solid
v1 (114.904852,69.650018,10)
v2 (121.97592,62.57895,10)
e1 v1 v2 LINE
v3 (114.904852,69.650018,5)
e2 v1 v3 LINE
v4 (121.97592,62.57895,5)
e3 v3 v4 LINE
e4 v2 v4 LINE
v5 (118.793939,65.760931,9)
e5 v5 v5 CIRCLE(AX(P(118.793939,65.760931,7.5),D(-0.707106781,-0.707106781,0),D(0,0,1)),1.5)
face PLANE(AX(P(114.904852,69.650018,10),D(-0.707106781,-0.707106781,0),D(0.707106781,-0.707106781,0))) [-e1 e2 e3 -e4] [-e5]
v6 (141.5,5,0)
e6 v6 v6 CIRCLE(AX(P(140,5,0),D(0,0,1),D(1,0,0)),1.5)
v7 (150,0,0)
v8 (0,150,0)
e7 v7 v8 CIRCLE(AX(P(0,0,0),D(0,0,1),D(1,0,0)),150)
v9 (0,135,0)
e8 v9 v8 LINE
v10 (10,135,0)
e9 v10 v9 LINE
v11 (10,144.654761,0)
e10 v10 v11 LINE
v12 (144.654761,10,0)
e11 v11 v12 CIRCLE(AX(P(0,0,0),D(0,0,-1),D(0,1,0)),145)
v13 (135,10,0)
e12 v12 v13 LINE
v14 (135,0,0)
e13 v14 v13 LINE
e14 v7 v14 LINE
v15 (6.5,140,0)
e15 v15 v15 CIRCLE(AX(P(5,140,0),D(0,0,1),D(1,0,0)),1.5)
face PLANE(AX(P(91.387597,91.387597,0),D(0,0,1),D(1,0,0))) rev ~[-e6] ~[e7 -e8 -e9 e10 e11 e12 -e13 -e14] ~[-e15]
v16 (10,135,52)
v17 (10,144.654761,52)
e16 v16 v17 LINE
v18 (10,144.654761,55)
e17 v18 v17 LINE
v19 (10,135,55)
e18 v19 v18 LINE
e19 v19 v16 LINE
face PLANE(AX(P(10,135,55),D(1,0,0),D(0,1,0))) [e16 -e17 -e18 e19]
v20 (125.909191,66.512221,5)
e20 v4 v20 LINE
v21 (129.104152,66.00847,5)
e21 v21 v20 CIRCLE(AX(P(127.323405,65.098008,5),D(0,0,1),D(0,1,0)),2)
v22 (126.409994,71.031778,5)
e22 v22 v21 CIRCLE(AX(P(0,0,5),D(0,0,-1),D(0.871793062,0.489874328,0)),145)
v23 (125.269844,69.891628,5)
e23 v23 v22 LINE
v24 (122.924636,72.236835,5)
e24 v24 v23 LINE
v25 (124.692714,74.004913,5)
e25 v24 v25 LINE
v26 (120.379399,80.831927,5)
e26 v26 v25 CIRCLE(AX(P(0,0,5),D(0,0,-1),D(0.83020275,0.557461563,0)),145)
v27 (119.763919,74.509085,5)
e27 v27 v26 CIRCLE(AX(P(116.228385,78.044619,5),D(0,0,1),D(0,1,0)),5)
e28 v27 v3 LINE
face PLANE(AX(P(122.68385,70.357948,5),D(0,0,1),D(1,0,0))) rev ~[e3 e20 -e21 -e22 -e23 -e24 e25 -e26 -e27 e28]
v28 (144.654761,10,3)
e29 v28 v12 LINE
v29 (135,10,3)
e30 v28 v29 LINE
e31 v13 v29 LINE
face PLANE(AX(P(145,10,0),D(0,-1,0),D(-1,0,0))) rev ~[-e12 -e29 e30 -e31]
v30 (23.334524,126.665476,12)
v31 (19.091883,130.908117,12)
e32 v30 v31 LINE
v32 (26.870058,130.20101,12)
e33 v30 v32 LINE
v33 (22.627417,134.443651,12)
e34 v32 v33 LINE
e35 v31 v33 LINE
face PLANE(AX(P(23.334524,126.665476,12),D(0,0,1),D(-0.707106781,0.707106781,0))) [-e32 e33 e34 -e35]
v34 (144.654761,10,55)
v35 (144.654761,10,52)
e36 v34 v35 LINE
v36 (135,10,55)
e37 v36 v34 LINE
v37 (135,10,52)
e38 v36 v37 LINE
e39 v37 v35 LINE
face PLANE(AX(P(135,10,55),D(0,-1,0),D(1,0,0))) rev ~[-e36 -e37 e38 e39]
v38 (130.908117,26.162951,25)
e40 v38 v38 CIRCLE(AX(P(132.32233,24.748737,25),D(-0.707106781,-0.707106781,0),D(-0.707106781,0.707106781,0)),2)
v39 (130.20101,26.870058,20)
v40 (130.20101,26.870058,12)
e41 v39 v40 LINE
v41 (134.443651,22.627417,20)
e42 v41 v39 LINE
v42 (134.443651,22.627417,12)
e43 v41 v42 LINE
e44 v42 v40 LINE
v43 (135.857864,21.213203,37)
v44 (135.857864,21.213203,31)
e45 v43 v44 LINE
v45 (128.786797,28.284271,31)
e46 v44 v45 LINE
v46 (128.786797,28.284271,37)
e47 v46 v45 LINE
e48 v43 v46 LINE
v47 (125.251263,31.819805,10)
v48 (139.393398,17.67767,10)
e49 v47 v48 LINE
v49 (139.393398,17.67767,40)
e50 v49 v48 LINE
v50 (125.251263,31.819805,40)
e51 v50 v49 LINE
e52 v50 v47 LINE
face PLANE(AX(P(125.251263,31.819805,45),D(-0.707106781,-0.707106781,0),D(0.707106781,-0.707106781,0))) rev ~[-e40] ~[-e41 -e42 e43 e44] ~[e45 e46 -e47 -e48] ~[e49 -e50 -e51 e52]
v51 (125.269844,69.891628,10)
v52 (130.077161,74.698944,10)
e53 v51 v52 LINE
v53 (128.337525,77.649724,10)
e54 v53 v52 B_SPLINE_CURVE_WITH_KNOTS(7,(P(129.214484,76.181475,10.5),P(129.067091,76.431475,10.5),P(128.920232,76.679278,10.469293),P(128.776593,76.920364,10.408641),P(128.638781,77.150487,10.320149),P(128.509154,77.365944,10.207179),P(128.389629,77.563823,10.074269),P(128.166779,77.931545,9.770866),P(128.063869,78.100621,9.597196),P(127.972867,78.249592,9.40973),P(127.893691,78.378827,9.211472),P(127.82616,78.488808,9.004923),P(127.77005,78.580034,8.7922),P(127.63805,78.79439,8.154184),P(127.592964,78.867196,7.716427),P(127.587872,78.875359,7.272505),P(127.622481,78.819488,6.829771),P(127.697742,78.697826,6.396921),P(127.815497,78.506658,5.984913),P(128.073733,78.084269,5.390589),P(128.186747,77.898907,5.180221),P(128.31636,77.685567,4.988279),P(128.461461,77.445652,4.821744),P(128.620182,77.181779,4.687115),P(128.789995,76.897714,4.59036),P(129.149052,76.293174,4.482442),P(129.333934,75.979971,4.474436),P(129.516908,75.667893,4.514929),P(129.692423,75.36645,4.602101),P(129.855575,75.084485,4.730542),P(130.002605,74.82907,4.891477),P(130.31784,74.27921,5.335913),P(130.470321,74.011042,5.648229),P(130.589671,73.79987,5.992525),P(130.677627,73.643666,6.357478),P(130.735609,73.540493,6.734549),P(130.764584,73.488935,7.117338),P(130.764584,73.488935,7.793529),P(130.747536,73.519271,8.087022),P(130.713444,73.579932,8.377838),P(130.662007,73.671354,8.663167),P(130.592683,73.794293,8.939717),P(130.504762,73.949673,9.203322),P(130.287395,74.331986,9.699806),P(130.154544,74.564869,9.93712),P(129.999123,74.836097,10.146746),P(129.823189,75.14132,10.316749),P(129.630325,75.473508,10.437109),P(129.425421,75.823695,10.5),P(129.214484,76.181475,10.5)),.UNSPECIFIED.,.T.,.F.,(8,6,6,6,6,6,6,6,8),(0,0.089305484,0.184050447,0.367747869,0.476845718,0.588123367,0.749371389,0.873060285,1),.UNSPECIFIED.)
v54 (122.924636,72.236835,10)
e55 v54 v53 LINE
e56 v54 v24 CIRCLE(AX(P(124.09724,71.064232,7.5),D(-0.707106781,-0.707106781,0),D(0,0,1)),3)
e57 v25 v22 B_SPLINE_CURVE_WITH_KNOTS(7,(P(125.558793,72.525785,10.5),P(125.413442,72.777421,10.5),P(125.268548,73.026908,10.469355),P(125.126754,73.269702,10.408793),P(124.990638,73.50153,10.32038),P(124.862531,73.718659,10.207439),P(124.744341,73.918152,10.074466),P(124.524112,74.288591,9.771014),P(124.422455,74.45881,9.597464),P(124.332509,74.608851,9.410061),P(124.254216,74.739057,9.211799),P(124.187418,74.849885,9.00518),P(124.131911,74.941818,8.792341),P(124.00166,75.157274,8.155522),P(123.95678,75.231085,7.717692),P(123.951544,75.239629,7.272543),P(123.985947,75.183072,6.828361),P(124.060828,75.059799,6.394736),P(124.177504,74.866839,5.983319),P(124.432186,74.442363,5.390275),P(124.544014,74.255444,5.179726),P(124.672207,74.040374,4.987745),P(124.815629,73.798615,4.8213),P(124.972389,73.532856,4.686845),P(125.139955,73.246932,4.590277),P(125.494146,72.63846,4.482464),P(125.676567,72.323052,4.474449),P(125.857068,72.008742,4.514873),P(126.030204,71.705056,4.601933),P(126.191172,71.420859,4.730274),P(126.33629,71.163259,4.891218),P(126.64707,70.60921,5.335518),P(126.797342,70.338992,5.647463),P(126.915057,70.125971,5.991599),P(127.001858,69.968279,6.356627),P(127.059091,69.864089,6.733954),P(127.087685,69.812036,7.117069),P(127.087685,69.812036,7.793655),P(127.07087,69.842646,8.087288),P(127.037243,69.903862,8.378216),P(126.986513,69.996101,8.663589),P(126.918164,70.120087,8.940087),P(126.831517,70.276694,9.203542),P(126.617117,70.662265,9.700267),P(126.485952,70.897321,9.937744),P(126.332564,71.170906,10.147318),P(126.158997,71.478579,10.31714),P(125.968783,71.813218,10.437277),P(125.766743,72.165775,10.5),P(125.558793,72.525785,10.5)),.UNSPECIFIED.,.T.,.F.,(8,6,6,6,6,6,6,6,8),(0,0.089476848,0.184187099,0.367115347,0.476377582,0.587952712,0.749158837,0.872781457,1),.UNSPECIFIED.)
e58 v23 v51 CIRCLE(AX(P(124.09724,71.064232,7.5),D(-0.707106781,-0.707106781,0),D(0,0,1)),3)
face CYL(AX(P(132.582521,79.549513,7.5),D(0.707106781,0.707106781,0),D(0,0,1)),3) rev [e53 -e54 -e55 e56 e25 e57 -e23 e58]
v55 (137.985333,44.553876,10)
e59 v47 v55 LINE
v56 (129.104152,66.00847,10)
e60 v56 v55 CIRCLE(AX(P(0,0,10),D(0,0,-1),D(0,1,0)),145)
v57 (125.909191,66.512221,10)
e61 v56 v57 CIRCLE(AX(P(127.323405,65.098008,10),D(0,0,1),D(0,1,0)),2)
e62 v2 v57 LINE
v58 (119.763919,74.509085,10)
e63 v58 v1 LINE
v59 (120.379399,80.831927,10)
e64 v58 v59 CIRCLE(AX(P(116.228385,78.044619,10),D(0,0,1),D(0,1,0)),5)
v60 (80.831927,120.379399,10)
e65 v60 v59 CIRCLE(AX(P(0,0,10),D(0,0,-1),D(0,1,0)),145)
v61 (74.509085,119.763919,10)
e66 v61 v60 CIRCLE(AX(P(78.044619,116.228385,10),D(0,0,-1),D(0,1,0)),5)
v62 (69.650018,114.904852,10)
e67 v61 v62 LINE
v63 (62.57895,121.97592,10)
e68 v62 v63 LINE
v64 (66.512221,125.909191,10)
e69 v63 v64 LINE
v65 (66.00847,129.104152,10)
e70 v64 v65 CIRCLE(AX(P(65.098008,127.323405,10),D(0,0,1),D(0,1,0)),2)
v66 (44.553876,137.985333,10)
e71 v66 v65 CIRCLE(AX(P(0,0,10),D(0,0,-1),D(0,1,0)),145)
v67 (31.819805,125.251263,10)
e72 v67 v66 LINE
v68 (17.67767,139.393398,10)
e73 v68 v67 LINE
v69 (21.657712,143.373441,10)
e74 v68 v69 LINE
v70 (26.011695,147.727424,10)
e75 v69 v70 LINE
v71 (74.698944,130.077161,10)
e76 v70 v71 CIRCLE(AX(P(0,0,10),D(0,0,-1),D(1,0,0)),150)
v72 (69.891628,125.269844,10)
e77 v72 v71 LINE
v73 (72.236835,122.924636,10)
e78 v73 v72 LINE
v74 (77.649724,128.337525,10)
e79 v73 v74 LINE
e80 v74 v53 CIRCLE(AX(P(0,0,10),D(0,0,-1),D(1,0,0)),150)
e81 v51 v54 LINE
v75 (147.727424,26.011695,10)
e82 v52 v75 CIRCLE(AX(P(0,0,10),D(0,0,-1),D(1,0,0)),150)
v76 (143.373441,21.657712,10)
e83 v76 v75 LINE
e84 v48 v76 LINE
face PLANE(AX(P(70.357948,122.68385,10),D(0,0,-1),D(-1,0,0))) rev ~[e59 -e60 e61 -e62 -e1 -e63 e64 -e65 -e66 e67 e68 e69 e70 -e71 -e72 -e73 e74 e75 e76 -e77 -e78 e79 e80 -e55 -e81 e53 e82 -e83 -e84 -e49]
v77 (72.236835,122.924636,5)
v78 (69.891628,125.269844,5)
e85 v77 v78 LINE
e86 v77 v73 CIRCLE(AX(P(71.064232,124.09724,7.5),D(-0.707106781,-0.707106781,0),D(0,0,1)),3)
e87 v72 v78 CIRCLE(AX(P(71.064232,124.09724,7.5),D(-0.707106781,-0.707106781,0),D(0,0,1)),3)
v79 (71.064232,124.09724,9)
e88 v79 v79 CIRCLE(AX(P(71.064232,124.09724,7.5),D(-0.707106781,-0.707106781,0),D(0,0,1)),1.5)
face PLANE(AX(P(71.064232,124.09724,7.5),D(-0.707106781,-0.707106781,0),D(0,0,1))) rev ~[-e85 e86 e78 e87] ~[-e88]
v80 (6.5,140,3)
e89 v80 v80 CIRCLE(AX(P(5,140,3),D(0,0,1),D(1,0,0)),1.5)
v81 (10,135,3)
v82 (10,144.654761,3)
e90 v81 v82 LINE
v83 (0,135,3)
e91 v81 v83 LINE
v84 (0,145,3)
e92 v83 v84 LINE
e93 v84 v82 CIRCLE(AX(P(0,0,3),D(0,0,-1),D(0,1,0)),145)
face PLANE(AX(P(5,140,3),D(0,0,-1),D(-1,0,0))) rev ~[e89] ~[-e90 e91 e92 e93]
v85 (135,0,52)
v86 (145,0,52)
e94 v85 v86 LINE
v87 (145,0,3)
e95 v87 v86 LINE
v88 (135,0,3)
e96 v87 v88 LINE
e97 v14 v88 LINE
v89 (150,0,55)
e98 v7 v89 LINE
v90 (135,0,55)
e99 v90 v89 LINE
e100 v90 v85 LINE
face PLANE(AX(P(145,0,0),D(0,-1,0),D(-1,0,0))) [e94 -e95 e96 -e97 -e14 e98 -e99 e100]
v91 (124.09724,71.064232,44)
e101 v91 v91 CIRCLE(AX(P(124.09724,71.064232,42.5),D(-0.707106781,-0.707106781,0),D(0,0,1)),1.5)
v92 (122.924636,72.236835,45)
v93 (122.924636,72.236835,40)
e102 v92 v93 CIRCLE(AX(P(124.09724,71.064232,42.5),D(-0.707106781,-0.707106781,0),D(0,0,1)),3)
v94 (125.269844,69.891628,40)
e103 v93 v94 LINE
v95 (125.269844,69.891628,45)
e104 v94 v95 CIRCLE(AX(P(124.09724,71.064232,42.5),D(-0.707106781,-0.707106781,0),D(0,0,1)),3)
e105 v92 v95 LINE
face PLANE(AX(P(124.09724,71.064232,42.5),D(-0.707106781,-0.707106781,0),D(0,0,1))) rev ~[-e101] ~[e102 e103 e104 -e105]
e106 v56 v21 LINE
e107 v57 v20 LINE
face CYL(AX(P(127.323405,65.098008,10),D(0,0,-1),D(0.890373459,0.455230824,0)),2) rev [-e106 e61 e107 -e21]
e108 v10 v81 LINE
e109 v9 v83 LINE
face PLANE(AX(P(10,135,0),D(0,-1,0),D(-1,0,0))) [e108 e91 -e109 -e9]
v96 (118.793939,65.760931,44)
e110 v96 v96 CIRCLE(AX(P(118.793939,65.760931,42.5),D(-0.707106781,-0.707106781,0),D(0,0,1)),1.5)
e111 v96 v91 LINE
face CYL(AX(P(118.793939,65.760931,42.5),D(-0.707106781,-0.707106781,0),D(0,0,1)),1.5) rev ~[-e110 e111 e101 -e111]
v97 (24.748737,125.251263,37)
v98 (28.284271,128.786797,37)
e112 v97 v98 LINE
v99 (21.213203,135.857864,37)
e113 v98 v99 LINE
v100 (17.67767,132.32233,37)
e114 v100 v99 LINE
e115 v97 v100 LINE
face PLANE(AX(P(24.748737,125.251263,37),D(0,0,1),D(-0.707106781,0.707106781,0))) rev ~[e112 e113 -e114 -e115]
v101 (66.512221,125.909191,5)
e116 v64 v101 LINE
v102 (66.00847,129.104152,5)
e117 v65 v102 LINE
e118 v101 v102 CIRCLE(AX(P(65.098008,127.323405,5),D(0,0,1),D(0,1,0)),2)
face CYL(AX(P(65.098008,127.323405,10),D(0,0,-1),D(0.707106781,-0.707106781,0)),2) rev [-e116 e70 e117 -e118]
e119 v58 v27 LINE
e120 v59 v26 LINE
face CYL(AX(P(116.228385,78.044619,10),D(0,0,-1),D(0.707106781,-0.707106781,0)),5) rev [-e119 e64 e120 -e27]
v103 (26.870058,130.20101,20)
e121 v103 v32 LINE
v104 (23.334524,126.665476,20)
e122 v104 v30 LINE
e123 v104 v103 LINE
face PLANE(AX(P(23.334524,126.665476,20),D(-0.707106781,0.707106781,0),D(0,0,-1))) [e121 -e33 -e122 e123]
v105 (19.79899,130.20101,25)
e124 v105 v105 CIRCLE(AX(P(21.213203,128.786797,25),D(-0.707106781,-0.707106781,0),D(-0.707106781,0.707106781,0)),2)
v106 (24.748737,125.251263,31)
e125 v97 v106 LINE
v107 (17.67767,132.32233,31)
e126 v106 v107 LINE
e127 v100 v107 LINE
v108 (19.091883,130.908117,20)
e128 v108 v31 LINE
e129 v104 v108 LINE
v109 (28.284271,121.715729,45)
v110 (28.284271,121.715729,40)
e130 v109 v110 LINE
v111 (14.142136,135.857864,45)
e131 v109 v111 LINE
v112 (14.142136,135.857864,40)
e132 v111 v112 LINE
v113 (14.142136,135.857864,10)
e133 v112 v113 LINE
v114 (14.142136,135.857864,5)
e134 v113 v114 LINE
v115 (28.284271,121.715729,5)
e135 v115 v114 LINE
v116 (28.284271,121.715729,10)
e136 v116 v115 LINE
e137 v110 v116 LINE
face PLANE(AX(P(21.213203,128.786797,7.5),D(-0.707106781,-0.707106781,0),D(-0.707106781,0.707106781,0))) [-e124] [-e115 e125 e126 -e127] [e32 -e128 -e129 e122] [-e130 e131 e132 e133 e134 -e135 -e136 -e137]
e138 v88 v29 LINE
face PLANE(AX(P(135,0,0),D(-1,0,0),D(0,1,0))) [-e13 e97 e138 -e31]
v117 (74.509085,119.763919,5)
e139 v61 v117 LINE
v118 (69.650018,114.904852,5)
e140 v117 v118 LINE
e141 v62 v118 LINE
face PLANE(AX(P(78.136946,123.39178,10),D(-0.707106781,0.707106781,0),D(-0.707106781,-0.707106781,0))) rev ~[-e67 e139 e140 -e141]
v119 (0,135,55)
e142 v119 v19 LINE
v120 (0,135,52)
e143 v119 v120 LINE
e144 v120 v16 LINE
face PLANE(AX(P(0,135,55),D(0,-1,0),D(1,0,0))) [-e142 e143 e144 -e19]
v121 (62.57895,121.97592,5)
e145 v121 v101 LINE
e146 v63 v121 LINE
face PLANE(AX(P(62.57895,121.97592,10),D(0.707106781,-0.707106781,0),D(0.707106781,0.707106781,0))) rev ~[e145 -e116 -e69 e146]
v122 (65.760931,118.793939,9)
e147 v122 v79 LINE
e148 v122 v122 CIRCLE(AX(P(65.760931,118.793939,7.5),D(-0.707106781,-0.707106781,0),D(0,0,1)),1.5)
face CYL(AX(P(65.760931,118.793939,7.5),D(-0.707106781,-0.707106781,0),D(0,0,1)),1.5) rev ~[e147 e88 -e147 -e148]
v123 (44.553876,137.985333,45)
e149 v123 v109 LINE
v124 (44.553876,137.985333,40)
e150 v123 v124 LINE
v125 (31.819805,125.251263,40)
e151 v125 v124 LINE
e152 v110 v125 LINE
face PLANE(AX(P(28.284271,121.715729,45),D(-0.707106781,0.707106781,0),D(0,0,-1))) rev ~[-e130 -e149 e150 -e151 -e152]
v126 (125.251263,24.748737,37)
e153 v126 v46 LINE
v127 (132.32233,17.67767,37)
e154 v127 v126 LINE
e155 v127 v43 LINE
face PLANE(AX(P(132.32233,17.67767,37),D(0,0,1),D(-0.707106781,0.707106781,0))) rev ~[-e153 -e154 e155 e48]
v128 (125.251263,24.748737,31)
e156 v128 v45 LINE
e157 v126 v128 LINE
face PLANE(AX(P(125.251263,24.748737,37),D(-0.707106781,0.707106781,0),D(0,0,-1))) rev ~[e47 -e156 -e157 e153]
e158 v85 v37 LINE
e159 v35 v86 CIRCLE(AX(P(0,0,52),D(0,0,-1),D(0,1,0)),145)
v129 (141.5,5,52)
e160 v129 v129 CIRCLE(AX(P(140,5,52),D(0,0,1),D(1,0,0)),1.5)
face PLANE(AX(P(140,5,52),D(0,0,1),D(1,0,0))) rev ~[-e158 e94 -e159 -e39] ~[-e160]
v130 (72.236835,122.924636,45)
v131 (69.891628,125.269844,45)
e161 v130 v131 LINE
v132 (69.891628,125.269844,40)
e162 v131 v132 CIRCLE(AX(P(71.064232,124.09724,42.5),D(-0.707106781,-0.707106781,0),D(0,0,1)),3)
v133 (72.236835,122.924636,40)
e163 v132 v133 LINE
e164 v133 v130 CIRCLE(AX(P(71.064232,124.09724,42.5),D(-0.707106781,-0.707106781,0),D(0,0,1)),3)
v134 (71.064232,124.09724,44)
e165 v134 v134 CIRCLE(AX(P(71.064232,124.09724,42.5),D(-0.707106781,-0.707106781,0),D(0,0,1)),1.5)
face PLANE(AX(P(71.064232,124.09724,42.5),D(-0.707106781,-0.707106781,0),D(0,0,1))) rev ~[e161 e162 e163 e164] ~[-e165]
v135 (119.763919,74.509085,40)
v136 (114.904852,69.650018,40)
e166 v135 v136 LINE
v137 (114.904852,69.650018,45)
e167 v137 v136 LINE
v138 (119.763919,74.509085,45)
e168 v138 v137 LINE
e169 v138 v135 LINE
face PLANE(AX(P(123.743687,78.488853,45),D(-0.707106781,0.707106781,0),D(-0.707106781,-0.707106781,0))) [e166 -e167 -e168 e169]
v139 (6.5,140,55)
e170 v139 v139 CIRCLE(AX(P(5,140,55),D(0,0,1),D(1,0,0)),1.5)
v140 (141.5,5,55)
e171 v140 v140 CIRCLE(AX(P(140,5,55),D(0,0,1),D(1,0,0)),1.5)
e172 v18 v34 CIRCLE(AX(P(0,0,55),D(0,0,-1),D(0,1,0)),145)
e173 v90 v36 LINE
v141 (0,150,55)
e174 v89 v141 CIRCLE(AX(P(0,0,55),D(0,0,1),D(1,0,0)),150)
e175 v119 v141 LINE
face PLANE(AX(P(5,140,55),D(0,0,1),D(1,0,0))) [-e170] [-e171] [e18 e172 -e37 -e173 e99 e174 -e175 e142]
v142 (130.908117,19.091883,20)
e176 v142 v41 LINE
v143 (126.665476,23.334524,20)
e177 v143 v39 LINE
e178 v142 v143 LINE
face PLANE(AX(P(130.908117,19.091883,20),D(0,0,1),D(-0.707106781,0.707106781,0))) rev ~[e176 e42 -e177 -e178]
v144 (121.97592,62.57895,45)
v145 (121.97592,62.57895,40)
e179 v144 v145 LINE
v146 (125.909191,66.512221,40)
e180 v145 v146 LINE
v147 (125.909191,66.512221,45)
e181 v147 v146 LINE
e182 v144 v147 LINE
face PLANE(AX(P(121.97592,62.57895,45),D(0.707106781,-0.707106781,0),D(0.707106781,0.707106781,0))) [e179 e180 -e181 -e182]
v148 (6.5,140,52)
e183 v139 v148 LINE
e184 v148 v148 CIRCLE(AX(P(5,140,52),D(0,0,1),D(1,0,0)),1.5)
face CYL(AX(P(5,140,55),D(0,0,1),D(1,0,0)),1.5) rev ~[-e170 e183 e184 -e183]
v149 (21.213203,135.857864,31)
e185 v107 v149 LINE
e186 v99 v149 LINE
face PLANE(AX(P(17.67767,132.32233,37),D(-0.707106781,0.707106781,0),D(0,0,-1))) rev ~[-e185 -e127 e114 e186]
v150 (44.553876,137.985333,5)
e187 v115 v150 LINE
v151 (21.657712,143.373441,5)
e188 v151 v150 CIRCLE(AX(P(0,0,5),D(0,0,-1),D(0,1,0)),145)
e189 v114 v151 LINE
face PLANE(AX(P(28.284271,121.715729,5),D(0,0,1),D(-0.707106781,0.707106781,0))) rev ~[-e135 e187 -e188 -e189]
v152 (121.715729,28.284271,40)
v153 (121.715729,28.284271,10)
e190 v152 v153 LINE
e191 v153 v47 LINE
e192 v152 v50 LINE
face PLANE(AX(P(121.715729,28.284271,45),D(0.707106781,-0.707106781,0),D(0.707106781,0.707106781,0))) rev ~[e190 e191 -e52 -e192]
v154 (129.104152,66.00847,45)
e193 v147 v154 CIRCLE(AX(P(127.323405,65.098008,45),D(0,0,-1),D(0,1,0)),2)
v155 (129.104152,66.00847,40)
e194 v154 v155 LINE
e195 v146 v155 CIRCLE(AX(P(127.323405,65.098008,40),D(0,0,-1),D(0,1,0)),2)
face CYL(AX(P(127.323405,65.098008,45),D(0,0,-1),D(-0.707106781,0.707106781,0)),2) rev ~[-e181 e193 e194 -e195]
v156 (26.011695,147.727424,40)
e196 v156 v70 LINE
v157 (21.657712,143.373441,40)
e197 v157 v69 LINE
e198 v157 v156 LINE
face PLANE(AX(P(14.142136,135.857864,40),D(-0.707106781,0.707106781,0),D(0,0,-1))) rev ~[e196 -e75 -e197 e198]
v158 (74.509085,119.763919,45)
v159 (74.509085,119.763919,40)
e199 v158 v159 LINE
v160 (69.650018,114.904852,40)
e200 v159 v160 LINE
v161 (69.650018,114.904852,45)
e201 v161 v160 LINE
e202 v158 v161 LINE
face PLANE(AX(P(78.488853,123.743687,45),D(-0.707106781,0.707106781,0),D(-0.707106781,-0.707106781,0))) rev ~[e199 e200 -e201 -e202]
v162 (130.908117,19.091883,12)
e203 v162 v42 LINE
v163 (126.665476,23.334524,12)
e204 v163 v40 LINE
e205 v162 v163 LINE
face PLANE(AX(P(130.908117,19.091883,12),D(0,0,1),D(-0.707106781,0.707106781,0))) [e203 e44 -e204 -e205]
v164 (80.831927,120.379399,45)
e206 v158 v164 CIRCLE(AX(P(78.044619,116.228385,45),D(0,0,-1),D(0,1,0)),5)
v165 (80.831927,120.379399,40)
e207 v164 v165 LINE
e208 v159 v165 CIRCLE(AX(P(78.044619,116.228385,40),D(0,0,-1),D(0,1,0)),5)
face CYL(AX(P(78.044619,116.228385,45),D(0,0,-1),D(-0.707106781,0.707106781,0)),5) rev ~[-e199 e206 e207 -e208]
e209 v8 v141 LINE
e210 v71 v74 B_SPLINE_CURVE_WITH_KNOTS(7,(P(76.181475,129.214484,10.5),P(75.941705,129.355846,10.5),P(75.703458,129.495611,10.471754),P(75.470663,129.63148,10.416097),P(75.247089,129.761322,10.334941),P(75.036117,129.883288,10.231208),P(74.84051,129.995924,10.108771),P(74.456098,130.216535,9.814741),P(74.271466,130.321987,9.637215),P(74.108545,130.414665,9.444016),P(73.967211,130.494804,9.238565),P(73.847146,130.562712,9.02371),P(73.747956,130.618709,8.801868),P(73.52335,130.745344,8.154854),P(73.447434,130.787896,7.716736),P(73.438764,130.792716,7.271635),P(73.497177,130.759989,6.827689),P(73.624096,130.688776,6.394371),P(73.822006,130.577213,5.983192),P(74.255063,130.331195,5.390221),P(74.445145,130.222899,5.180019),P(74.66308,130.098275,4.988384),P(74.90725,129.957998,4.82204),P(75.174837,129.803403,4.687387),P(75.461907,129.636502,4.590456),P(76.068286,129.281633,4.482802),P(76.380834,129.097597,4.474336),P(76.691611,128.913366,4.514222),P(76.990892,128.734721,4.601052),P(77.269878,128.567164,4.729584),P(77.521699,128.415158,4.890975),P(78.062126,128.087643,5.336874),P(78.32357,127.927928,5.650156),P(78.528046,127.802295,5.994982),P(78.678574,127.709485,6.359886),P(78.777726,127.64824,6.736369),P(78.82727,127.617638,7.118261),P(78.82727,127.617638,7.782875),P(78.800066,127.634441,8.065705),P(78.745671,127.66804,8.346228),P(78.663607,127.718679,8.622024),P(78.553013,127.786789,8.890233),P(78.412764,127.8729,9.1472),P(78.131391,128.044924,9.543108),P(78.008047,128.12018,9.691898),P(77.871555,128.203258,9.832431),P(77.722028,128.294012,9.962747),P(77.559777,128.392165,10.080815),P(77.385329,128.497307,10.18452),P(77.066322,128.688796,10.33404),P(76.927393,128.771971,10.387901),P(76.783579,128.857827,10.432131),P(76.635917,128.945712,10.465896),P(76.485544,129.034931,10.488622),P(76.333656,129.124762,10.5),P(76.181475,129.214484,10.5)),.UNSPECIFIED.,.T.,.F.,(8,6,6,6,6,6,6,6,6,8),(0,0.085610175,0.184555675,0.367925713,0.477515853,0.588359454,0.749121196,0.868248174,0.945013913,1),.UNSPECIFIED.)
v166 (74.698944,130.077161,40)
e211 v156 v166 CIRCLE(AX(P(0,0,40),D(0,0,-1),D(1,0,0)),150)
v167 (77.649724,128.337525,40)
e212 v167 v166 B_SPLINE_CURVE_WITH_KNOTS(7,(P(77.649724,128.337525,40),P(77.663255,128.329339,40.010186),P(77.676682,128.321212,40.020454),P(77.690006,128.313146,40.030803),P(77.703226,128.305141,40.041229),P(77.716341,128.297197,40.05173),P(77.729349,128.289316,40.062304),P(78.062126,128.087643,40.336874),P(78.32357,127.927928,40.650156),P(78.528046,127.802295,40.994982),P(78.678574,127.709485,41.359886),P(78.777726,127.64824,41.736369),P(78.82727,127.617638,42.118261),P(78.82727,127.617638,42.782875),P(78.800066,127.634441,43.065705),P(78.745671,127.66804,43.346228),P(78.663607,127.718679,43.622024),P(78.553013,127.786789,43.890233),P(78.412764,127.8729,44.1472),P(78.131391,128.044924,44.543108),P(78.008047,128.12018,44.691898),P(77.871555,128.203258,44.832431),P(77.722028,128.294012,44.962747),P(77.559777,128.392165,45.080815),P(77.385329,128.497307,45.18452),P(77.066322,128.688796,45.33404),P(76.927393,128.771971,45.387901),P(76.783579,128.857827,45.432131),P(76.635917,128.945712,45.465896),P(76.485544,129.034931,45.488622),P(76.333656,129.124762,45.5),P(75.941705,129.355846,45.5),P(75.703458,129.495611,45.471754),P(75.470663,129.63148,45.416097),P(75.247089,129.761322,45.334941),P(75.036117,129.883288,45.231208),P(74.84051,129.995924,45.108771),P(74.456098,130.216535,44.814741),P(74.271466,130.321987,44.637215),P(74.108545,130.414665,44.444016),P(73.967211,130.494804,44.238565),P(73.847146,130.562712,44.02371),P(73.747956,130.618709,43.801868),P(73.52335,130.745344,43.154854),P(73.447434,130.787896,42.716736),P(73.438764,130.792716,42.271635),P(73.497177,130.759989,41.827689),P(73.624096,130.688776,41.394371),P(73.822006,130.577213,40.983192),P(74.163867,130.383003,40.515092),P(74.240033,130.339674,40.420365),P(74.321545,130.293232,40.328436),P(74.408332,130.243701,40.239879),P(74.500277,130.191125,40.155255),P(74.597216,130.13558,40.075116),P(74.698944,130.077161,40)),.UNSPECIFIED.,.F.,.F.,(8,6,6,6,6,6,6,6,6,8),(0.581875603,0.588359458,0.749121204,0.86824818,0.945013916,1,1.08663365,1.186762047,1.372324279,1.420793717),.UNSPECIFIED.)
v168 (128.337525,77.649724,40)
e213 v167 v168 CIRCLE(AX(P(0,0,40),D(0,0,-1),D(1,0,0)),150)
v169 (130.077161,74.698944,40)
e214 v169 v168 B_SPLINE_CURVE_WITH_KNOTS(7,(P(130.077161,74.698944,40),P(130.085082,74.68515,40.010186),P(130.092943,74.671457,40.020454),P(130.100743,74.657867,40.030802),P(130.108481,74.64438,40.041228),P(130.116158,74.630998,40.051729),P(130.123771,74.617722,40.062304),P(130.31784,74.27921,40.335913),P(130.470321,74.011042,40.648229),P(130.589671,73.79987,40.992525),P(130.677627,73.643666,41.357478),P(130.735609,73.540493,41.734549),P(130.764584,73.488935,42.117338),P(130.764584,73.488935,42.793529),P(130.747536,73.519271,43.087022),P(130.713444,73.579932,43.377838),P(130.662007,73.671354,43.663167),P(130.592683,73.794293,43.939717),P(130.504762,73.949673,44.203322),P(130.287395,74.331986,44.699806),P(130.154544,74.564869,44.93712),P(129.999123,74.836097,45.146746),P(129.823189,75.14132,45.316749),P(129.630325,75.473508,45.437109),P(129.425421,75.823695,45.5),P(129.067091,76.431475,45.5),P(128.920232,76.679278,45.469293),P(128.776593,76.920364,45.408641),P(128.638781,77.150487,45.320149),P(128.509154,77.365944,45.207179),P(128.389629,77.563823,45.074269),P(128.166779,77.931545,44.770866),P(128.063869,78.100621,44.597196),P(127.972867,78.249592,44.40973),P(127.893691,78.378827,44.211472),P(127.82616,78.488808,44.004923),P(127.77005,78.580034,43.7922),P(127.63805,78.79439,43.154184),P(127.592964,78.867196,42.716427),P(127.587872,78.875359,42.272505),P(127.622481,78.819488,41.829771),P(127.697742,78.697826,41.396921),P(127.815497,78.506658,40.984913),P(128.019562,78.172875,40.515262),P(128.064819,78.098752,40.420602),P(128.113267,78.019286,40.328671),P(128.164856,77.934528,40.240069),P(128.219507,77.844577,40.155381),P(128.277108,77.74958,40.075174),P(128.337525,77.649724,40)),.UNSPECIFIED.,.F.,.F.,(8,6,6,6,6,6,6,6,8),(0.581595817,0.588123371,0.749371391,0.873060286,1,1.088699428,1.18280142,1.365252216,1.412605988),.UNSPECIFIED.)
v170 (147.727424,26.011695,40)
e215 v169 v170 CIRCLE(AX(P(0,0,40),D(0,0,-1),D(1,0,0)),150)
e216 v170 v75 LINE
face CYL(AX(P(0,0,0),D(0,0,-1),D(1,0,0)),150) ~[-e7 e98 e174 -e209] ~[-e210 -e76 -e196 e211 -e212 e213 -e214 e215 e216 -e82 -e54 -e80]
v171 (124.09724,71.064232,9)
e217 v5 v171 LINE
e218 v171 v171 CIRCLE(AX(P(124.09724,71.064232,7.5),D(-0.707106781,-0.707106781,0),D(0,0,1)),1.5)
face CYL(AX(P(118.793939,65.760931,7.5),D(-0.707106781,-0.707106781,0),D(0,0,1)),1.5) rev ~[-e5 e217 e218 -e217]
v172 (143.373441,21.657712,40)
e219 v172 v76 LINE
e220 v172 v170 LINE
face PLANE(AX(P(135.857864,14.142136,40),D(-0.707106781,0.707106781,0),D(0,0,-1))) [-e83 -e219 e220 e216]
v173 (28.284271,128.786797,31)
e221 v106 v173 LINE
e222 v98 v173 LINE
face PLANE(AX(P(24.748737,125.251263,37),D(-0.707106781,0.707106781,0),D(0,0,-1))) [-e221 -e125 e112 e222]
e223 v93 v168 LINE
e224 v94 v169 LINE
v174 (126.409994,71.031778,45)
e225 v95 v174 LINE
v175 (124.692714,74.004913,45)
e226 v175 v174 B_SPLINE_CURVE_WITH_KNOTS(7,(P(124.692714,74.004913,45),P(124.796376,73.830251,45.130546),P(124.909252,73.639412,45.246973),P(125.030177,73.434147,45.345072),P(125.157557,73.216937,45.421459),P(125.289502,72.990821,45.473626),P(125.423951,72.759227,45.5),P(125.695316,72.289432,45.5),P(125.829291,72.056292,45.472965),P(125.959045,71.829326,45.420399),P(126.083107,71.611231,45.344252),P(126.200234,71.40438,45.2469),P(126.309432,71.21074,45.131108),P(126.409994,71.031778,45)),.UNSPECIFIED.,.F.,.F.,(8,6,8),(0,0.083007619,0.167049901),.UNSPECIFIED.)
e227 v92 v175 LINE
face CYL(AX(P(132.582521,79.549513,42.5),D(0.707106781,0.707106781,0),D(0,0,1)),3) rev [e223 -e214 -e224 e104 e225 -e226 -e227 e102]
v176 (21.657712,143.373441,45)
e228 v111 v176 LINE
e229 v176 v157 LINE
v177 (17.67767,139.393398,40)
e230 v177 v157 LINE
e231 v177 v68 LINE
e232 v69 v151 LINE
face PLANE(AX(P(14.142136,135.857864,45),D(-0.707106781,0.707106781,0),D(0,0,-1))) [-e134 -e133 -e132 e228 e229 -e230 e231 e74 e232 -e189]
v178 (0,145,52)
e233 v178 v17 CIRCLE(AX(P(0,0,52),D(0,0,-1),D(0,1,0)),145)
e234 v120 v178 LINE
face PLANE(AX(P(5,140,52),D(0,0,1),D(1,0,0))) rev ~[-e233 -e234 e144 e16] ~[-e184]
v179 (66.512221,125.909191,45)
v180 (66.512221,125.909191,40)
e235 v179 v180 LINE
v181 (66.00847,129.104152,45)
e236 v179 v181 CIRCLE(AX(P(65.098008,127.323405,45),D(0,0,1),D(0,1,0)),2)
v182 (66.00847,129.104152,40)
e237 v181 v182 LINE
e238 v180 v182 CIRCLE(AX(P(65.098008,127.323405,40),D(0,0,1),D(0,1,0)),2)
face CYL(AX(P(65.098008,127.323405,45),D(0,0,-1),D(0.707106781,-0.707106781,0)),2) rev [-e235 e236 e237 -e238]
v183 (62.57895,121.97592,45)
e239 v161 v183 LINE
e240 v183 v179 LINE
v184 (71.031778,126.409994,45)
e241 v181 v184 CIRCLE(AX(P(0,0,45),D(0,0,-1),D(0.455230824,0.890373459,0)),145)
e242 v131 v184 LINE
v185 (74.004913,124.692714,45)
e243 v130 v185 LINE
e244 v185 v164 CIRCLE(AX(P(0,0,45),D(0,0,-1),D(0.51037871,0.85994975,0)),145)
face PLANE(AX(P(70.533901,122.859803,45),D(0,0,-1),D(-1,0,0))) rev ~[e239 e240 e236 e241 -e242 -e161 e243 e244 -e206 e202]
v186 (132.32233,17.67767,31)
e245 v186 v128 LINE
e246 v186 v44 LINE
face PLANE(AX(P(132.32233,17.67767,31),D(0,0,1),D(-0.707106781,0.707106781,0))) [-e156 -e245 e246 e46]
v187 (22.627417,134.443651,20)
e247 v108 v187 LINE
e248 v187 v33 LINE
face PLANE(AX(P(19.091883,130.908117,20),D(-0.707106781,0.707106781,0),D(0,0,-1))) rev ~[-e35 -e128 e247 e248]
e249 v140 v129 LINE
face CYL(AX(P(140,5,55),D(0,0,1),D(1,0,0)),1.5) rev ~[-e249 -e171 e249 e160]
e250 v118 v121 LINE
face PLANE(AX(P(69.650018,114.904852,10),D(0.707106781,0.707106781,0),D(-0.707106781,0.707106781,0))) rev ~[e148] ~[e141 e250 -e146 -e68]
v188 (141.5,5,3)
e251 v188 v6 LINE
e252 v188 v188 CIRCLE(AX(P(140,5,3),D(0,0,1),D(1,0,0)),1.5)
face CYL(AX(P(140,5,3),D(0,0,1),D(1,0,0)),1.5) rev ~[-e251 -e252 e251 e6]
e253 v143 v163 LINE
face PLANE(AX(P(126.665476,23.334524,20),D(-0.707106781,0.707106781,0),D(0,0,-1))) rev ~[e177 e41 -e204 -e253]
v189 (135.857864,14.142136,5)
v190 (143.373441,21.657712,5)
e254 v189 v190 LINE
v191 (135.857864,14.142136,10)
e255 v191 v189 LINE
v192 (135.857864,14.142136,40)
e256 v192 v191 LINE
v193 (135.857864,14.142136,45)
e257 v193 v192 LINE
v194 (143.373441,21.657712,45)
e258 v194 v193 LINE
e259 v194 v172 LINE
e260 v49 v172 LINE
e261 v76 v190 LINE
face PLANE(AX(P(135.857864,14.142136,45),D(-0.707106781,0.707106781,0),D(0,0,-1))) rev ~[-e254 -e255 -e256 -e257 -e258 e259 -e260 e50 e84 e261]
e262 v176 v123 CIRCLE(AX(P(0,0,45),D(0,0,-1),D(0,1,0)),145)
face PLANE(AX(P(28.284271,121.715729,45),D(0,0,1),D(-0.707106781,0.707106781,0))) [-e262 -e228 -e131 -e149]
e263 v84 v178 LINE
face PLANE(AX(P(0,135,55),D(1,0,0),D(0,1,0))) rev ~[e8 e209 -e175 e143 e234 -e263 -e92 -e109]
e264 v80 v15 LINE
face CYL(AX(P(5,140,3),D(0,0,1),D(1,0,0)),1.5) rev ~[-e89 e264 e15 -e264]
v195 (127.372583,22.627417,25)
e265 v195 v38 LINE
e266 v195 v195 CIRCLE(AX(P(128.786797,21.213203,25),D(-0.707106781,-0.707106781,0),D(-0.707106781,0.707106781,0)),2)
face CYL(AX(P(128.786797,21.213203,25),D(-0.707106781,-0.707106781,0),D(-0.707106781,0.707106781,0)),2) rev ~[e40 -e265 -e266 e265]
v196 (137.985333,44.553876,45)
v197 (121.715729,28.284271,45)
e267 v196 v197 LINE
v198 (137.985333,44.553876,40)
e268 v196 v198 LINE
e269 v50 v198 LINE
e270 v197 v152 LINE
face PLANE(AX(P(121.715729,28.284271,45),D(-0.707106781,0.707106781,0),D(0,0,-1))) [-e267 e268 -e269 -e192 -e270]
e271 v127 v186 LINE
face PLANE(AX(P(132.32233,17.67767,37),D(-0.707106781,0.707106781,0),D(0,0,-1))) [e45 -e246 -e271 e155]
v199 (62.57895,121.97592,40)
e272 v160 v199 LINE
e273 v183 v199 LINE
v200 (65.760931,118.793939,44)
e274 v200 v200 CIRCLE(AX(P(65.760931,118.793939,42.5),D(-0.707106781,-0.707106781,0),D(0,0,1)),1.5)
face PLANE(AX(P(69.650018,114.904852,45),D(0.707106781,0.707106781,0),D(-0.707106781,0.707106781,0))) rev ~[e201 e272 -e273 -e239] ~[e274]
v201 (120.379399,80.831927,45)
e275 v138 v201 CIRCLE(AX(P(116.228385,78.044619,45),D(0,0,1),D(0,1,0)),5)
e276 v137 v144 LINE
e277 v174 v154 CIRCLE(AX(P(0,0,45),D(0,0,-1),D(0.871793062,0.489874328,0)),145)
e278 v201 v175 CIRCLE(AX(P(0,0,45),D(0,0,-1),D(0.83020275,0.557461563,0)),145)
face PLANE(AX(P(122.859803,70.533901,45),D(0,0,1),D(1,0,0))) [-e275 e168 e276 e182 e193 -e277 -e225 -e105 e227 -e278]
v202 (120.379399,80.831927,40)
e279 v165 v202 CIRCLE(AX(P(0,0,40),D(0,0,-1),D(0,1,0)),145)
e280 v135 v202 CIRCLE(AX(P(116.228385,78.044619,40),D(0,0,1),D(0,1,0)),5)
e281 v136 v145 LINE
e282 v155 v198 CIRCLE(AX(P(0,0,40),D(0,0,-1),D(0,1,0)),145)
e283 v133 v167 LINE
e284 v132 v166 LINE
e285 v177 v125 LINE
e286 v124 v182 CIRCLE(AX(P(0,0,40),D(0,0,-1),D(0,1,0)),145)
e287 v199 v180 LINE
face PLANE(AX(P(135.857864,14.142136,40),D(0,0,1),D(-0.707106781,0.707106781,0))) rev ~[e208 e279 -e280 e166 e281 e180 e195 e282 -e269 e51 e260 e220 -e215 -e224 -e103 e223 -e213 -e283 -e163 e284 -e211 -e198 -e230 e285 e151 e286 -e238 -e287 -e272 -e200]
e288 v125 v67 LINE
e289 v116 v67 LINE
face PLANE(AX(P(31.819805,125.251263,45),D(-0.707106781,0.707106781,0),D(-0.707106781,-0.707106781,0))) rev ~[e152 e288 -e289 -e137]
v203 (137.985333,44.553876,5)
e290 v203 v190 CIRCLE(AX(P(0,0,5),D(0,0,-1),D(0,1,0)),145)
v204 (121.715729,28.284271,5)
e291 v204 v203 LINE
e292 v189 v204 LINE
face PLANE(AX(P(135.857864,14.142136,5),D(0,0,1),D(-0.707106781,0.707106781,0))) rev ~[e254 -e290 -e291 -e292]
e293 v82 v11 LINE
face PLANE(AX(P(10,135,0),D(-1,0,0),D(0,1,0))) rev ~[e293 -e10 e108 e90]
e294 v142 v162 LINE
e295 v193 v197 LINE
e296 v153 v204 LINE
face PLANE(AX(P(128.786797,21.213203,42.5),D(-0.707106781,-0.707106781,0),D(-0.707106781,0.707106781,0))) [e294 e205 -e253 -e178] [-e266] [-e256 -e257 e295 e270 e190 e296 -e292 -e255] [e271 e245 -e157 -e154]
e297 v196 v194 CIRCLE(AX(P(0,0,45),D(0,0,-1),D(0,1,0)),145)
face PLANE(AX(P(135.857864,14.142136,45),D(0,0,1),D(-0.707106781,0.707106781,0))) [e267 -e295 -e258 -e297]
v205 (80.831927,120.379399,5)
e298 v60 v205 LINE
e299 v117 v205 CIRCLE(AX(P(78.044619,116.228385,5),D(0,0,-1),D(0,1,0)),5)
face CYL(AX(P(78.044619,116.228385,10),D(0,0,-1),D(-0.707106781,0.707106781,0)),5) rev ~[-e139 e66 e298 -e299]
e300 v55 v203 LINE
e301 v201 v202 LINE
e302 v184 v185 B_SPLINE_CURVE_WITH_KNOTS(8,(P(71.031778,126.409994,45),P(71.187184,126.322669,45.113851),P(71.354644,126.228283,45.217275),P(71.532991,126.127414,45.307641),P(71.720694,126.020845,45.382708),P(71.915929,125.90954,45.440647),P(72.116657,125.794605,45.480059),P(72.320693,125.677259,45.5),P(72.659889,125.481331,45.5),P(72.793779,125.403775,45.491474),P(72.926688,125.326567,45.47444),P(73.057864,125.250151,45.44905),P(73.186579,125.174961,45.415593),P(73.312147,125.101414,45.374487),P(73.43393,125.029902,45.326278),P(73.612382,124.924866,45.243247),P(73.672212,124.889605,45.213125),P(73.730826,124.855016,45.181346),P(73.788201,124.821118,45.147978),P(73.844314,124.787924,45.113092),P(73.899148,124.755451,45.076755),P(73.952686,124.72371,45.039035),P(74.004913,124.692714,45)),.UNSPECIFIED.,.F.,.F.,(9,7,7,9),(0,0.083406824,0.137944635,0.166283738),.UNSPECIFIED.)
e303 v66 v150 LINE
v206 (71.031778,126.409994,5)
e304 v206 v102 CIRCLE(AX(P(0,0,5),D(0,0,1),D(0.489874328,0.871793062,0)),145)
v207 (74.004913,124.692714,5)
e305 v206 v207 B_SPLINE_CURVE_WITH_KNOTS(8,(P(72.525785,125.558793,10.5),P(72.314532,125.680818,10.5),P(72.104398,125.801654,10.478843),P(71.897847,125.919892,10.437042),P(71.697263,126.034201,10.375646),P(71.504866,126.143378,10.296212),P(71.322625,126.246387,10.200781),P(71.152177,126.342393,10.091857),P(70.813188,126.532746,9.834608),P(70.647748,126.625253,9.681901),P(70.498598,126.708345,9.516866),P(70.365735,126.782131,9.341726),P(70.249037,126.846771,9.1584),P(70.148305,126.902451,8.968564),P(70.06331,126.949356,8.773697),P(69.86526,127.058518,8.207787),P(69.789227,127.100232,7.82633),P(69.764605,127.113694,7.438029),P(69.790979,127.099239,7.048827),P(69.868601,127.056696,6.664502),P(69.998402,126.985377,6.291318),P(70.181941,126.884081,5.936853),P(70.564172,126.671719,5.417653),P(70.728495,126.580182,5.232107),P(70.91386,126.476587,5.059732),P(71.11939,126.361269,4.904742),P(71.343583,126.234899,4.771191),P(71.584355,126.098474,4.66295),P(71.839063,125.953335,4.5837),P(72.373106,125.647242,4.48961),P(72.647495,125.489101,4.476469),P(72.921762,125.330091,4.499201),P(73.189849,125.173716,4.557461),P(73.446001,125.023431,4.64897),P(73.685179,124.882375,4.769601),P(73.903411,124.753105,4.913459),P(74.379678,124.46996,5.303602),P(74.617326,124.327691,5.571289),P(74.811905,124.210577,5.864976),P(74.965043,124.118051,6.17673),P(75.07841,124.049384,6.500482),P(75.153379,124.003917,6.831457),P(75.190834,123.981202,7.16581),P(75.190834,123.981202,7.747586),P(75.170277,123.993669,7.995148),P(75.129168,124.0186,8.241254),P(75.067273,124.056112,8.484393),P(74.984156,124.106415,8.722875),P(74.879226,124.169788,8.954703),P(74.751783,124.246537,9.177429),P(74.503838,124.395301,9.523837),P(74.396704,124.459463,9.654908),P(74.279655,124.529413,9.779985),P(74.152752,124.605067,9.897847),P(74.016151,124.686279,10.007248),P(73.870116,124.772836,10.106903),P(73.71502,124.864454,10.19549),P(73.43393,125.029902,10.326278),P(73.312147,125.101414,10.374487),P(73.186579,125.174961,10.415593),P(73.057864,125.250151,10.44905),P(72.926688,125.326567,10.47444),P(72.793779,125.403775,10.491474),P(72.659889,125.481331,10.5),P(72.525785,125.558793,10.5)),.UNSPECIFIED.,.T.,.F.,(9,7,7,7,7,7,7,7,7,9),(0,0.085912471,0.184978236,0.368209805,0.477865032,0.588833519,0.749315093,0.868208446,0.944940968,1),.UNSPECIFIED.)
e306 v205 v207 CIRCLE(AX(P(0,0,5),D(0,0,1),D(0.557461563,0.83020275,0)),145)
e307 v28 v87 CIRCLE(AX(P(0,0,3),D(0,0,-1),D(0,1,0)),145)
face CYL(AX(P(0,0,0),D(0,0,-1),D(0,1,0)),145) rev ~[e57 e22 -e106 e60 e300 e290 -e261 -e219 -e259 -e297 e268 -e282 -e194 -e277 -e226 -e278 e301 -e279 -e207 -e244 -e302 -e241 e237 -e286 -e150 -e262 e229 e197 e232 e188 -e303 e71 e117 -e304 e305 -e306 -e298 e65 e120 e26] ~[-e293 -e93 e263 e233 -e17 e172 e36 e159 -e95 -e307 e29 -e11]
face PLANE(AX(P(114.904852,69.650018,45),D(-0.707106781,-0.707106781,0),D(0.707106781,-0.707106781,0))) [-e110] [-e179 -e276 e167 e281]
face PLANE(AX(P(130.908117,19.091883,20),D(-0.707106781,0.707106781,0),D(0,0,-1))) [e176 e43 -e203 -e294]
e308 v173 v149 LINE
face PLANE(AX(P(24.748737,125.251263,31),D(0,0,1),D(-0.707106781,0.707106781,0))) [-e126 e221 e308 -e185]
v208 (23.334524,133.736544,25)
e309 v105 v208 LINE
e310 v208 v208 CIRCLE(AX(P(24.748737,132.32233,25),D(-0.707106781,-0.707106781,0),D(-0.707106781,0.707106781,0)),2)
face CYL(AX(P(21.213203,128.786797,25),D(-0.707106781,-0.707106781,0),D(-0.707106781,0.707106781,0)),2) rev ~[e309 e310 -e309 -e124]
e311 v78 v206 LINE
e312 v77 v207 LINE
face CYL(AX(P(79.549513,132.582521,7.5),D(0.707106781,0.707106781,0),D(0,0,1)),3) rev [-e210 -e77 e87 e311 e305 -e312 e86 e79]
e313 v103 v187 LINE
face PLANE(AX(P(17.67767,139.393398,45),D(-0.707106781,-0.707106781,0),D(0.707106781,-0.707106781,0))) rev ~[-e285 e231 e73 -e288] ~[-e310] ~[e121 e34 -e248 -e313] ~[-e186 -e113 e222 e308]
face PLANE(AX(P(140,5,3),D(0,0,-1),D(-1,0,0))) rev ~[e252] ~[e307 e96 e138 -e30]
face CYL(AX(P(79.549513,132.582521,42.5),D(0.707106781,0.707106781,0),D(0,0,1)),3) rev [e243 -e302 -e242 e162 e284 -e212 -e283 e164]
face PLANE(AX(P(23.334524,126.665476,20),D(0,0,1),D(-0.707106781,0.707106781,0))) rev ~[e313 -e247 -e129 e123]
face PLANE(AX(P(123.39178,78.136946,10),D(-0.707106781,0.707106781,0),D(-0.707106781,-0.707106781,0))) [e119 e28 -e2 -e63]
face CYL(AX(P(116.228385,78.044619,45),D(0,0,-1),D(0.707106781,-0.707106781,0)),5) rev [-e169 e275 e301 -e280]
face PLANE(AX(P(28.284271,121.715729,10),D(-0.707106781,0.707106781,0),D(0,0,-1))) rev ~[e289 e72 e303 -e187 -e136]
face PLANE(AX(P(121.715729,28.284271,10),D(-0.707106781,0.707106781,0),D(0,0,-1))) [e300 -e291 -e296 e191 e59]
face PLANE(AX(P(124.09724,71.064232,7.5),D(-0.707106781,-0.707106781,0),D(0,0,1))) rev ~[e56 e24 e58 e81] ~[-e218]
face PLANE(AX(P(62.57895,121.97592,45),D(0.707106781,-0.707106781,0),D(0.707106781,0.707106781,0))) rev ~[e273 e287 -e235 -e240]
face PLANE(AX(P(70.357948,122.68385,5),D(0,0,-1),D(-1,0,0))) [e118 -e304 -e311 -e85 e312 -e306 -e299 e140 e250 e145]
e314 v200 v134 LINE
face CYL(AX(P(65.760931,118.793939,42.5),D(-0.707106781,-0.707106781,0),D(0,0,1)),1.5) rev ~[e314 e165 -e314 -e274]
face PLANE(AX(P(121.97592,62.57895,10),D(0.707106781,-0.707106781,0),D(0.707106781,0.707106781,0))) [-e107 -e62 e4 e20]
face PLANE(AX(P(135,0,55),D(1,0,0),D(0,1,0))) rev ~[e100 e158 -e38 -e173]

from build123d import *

# Parameters (mm, degrees)
PAROI_DEPTH                    = 55
ESQUISSE11_W                   = 10
ESQUISSE11_H                   = 10
FIXATION_PAROI_BASE_DEPTH      = 3
ESQUISSE13_R                   = 1.5
TROU_FIXATION_PAROI_BASE_DEPTH = 4
EXTRUSION_BUMPER_REACH         = 108.066
ESQUISSE14_W                   = 172.132034356
ESQUISSE14_H                   = 30
BOSS_EXTRU_1_REACH             = 108.066
ESQUISSE15_W                   = 20
ESQUISSE15_H                   = 5
BOSS_EXTRU_2_DEPTH             = 35
ENL_V_MAT_EXTRU_1_REACH        = 108.066
ESQUISSE17_R                   = 2
ESQUISSE18_W                   = 10
ESQUISSE18_H                   = 10
ESQUISSE18_R                   = 1.5
BOSS_EXTRU_3_DEPTH             = 3
ESQUISSE20_W                   = 10
ESQUISSE20_H                   = 6
ESQUISSE20_W_2                 = 6
ESQUISSE20_H_2                 = 8
ENL_V_MAT_EXTRU_2_DEPTH        = 107.066017178
BOSS_EXTRU_4_DEPTH             = 5
BOSS_EXTRU_5_DEPTH             = 5
ENL_V_MAT_EXTRU_3_REACH        = 83.632
ESQUISSE25_R                   = 1.5
ESQUISSE35_R                   = 3
ENL_V_MAT_EXTRU_4_DEPTH        = 12
CONG_1_R                       = 5
CONG_2_R                       = 2


with BuildPart() as part:
    # Esquisse1 → paroi (new body)
    with BuildSketch(Plane.XY):
        with BuildLine():
            Line((0, 150), (0, 145))
            ThreePointArc((0, 145), (102.530483272, 102.530483272), (145, 0))
            Line((145, 0), (150, 0))
            ThreePointArc((150, 0), (106.066017178, 106.066017178), (0, 150))
        make_face()
    extrude(amount=PAROI_DEPTH)

    # Esquisse11 → fixation_paroi_base (add)
    with BuildSketch(Plane(origin=(0, 0, 0), x_dir=(-1, 0, 0), z_dir=(0, 0, -1))):
        with Locations((-140, 5)):
            Rectangle(ESQUISSE11_W, ESQUISSE11_H)
        with Locations((-5, 140)):
            Rectangle(ESQUISSE11_W, ESQUISSE11_H)
    extrude(amount=-FIXATION_PAROI_BASE_DEPTH)

    # Esquisse13 → trou_fixation_paroi_base (cut, through all)
    with BuildSketch(Plane.XY.offset(3)):
        with Locations((5, 140)):
            Circle(ESQUISSE13_R)
        with Locations((140, 5)):
            Circle(ESQUISSE13_R)
    extrude(amount=-TROU_FIXATION_PAROI_BASE_DEPTH, mode=Mode.SUBTRACT)

    # Esquisse14 → extrusion bumper (cut, up to next)
    with BuildSketch(Plane(origin=(75, 75, 0), x_dir=(-0.707106781, 0.707106781, 0), z_dir=(-0.707106781, -0.707106781, 0)), mode=Mode.PRIVATE) as extrusion_bumper_sk1:
        with Locations((0, -25)):
            Rectangle(ESQUISSE14_W, ESQUISSE14_H)
    extrusion_bumper_tool1 = extrude(extrusion_bumper_sk1.sketch, amount=-EXTRUSION_BUMPER_REACH, mode=Mode.PRIVATE) & part.part
    add(extrusion_bumper_tool1.solids().sort_by_distance((75, 75, 25))[0], mode=Mode.SUBTRACT)

    # Esquisse15 → Boss.-Extru.1 (add, up to next)
    with BuildSketch(Plane(origin=(75, 75, 0), x_dir=(-0.707106781, 0.707106781, 0), z_dir=(-0.707106781, -0.707106781, 0)), mode=Mode.PRIVATE) as boss_extru_1_sk1:
        with Locations((76.066017178, -42.5)):
            Rectangle(ESQUISSE15_W, ESQUISSE15_H)
    boss_extru_1_tool1 = extrude(boss_extru_1_sk1.sketch, amount=-BOSS_EXTRU_1_REACH, mode=Mode.PRIVATE) - part.part
    add(boss_extru_1_tool1.solids().sort_by_distance((21.213203, 128.786797, 42.5))[0])
    # Esquisse15 → Boss.-Extru.1 (add, up to next)
    with BuildSketch(Plane(origin=(75, 75, 0), x_dir=(-0.707106781, 0.707106781, 0), z_dir=(-0.707106781, -0.707106781, 0)), mode=Mode.PRIVATE) as boss_extru_1_sk2:
        with Locations((-76.066017178, -42.5)):
            Rectangle(ESQUISSE15_W, ESQUISSE15_H)
    boss_extru_1_tool2 = extrude(boss_extru_1_sk2.sketch, amount=-BOSS_EXTRU_1_REACH, mode=Mode.PRIVATE) - part.part
    add(boss_extru_1_tool2.solids().sort_by_distance((128.786797, 21.213203, 42.5))[0])
    # Esquisse15 → Boss.-Extru.1 (add, up to next)
    with BuildSketch(Plane(origin=(75, 75, 0), x_dir=(-0.707106781, 0.707106781, 0), z_dir=(-0.707106781, -0.707106781, 0)), mode=Mode.PRIVATE) as boss_extru_1_sk3:
        with Locations((76.066017178, -7.5)):
            Rectangle(ESQUISSE15_W, ESQUISSE15_H)
    boss_extru_1_tool3 = extrude(boss_extru_1_sk3.sketch, amount=-BOSS_EXTRU_1_REACH, mode=Mode.PRIVATE) - part.part
    add(boss_extru_1_tool3.solids().sort_by_distance((21.213203, 128.786797, 7.5))[0])
    # Esquisse15 → Boss.-Extru.1 (add, up to next)
    with BuildSketch(Plane(origin=(75, 75, 0), x_dir=(-0.707106781, 0.707106781, 0), z_dir=(-0.707106781, -0.707106781, 0)), mode=Mode.PRIVATE) as boss_extru_1_sk4:
        with Locations((-76.066017178, -7.5)):
            Rectangle(ESQUISSE15_W, ESQUISSE15_H)
    boss_extru_1_tool4 = extrude(boss_extru_1_sk4.sketch, amount=-BOSS_EXTRU_1_REACH, mode=Mode.PRIVATE) - part.part
    add(boss_extru_1_tool4.solids().sort_by_distance((128.786797, 21.213203, 7.5))[0])

    # Esquisse16 → Boss.-Extru.2 (add)
    with BuildSketch(Plane.XY.offset(45)):
        Polygon((135.857864376, 14.142135624), (121.715728753, 28.284271247), (125.251262658, 31.819805153), (139.393398282, 17.67766953), align=None)
        Polygon((28.284271247, 121.715728753), (14.142135624, 135.857864376), (17.67766953, 139.393398282), (31.819805153, 125.251262658), align=None)
    extrude(amount=-BOSS_EXTRU_2_DEPTH)

    # Esquisse17 → Enlèv. mat.-Extru.1 (cut, up to next)
    with BuildSketch(Plane(origin=(75, 75, 0), x_dir=(-0.707106781, 0.707106781, 0), z_dir=(-0.707106781, -0.707106781, 0)), mode=Mode.PRIVATE) as enl_v_mat_extru_1_sk1:
        with Locations((76.066017178, -25)):
            Circle(ESQUISSE17_R)
    enl_v_mat_extru_1_tool1 = extrude(enl_v_mat_extru_1_sk1.sketch, amount=-ENL_V_MAT_EXTRU_1_REACH, mode=Mode.PRIVATE) & part.part
    add(enl_v_mat_extru_1_tool1.solids().sort_by_distance((21.213203, 128.786797, 25))[0], mode=Mode.SUBTRACT)
    # Esquisse17 → Enlèv. mat.-Extru.1 (cut, up to next)
    with BuildSketch(Plane(origin=(75, 75, 0), x_dir=(-0.707106781, 0.707106781, 0), z_dir=(-0.707106781, -0.707106781, 0)), mode=Mode.PRIVATE) as enl_v_mat_extru_1_sk2:
        with Locations((-76.066017178, -25)):
            Circle(ESQUISSE17_R)
    enl_v_mat_extru_1_tool2 = extrude(enl_v_mat_extru_1_sk2.sketch, amount=-ENL_V_MAT_EXTRU_1_REACH, mode=Mode.PRIVATE) & part.part
    add(enl_v_mat_extru_1_tool2.solids().sort_by_distance((128.786797, 21.213203, 25))[0], mode=Mode.SUBTRACT)

    # Esquisse18 → Boss.-Extru.3 (add)
    with BuildSketch(Plane.XY.offset(55)):
        with Locations((5, 140)):
            Rectangle(ESQUISSE18_W, ESQUISSE18_H)
        with Locations((5, 140)):
            Circle(ESQUISSE18_R, mode=Mode.SUBTRACT)
        with Locations((140, 5)):
            Rectangle(ESQUISSE18_W, ESQUISSE18_H)
        with Locations((140, 5)):
            Circle(ESQUISSE18_R, mode=Mode.SUBTRACT)
    extrude(amount=-BOSS_EXTRU_3_DEPTH)

    # Esquisse20 → Enlèv. mat.-Extru.2 (cut, through all)
    with BuildSketch(Plane(origin=(75, 75, 0), x_dir=(-0.707106781, 0.707106781, 0), z_dir=(-0.707106781, -0.707106781, 0))):
        with Locations((76.066017178, -34)):
            Rectangle(ESQUISSE20_W, ESQUISSE20_H)
        with Locations((76.066017178, -16)):
            Rectangle(ESQUISSE20_W_2, ESQUISSE20_H_2)
        with Locations((-76.066017178, -34)):
            Rectangle(ESQUISSE20_W, ESQUISSE20_H)
        with Locations((-76.066017178, -16)):
            Rectangle(ESQUISSE20_W_2, ESQUISSE20_H_2)
    extrude(amount=-ENL_V_MAT_EXTRU_2_DEPTH, mode=Mode.SUBTRACT)

    # Esquisse21 → Boss.-Extru.4 (add)
    with BuildSketch(Plane.XY.offset(45)):
        Polygon((71.4177849, 130.81475452), (78.488852712, 123.743686708), (69.650017947, 114.904851943), (62.578950135, 121.975919755), align=None)
        Polygon((130.81475452, 71.4177849), (123.743686708, 78.488852712), (114.904851943, 69.650017947), (121.975919755, 62.578950135), align=None)
    extrude(amount=-BOSS_EXTRU_4_DEPTH)

    # Esquisse24 → Boss.-Extru.5 (add)
    with BuildSketch(Plane.XY.offset(10)):
        Polygon((62.578950135, 121.975919755), (71.065878403, 130.462848023), (78.136946215, 123.391780211), (69.650017947, 114.904851943), align=None)
        Polygon((121.975919755, 62.578950135), (130.462848023, 71.065878403), (123.391780211, 78.136946215), (114.904851943, 69.650017947), align=None)
    extrude(amount=-BOSS_EXTRU_5_DEPTH)

    # Esquisse25 → Enlèv. mat.-Extru.3 (cut, up to next)
    with BuildSketch(Plane(origin=(92.277434945, 92.277434945, 0), x_dir=(0, 0, 1), z_dir=(-0.707106781, -0.707106781, 0)), mode=Mode.PRIVATE) as enl_v_mat_extru_3_sk1:
        with Locations((42.5, 37.5)):
            Circle(ESQUISSE25_R)
    enl_v_mat_extru_3_tool1 = extrude(enl_v_mat_extru_3_sk1.sketch, amount=-ENL_V_MAT_EXTRU_3_REACH, mode=Mode.PRIVATE) & part.part
    add(enl_v_mat_extru_3_tool1.solids().sort_by_distance((65.760931, 118.793939, 42.5))[0], mode=Mode.SUBTRACT)
    # Esquisse25 → Enlèv. mat.-Extru.3 (cut, up to next)
    with BuildSketch(Plane(origin=(92.277434945, 92.277434945, 0), x_dir=(0, 0, 1), z_dir=(-0.707106781, -0.707106781, 0)), mode=Mode.PRIVATE) as enl_v_mat_extru_3_sk2:
        with Locations((42.5, -37.5)):
            Circle(ESQUISSE25_R)
    enl_v_mat_extru_3_tool2 = extrude(enl_v_mat_extru_3_sk2.sketch, amount=-ENL_V_MAT_EXTRU_3_REACH, mode=Mode.PRIVATE) & part.part
    add(enl_v_mat_extru_3_tool2.solids().sort_by_distance((118.793939, 65.760931, 42.5))[0], mode=Mode.SUBTRACT)
    # Esquisse25 → Enlèv. mat.-Extru.3 (cut, up to next)
    with BuildSketch(Plane(origin=(92.277434945, 92.277434945, 0), x_dir=(0, 0, 1), z_dir=(-0.707106781, -0.707106781, 0)), mode=Mode.PRIVATE) as enl_v_mat_extru_3_sk3:
        with Locations((7.5, 37.5)):
            Circle(ESQUISSE25_R)
    enl_v_mat_extru_3_tool3 = extrude(enl_v_mat_extru_3_sk3.sketch, amount=-ENL_V_MAT_EXTRU_3_REACH, mode=Mode.PRIVATE) & part.part
    add(enl_v_mat_extru_3_tool3.solids().sort_by_distance((65.760931, 118.793939, 7.5))[0], mode=Mode.SUBTRACT)
    # Esquisse25 → Enlèv. mat.-Extru.3 (cut, up to next)
    with BuildSketch(Plane(origin=(92.277434945, 92.277434945, 0), x_dir=(0, 0, 1), z_dir=(-0.707106781, -0.707106781, 0)), mode=Mode.PRIVATE) as enl_v_mat_extru_3_sk4:
        with Locations((7.5, -37.5)):
            Circle(ESQUISSE25_R)
    enl_v_mat_extru_3_tool4 = extrude(enl_v_mat_extru_3_sk4.sketch, amount=-ENL_V_MAT_EXTRU_3_REACH, mode=Mode.PRIVATE) & part.part
    add(enl_v_mat_extru_3_tool4.solids().sort_by_distance((118.793939, 65.760931, 7.5))[0], mode=Mode.SUBTRACT)

    # Esquisse35 → Enlèv. mat.-Extru.4 (cut)
    with BuildSketch(Plane(origin=(106.066017178, 106.066017178, 0), x_dir=(0, 0, 1), z_dir=(-0.707106781, -0.707106781, 0))):
        with Locations((42.5, -37.5)):
            Circle(ESQUISSE35_R)
        with Locations((42.5, 37.5)):
            Circle(ESQUISSE35_R)
        with Locations((7.5, -37.5)):
            Circle(ESQUISSE35_R)
        with Locations((7.5, 37.5)):
            Circle(ESQUISSE35_R)
    extrude(amount=ENL_V_MAT_EXTRU_4_DEPTH, mode=Mode.SUBTRACT)

    # Congé1
    cong_1_edges = [part.edges().sort_by_distance(p)[0] for p in [
        (77.375082971, 122.629916967, 42.5),
        (122.629916967, 77.375082971, 42.5),
        (77.375082971, 122.629916967, 7.5),
        (122.629916967, 77.375082971, 7.5),
    ]]
    fillet(cong_1_edges, radius=CONG_1_R)

    # Congé2
    cong_2_edges = [part.edges().sort_by_distance(p)[0] for p in [
        (68.436626134, 127.833595754, 42.5),
        (127.833595754, 68.436626134, 42.5),
        (68.436626134, 127.833595754, 7.5),
        (127.833595754, 68.436626134, 7.5),
    ]]
    fillet(cong_2_edges, radius=CONG_2_R)


solid = part.part
